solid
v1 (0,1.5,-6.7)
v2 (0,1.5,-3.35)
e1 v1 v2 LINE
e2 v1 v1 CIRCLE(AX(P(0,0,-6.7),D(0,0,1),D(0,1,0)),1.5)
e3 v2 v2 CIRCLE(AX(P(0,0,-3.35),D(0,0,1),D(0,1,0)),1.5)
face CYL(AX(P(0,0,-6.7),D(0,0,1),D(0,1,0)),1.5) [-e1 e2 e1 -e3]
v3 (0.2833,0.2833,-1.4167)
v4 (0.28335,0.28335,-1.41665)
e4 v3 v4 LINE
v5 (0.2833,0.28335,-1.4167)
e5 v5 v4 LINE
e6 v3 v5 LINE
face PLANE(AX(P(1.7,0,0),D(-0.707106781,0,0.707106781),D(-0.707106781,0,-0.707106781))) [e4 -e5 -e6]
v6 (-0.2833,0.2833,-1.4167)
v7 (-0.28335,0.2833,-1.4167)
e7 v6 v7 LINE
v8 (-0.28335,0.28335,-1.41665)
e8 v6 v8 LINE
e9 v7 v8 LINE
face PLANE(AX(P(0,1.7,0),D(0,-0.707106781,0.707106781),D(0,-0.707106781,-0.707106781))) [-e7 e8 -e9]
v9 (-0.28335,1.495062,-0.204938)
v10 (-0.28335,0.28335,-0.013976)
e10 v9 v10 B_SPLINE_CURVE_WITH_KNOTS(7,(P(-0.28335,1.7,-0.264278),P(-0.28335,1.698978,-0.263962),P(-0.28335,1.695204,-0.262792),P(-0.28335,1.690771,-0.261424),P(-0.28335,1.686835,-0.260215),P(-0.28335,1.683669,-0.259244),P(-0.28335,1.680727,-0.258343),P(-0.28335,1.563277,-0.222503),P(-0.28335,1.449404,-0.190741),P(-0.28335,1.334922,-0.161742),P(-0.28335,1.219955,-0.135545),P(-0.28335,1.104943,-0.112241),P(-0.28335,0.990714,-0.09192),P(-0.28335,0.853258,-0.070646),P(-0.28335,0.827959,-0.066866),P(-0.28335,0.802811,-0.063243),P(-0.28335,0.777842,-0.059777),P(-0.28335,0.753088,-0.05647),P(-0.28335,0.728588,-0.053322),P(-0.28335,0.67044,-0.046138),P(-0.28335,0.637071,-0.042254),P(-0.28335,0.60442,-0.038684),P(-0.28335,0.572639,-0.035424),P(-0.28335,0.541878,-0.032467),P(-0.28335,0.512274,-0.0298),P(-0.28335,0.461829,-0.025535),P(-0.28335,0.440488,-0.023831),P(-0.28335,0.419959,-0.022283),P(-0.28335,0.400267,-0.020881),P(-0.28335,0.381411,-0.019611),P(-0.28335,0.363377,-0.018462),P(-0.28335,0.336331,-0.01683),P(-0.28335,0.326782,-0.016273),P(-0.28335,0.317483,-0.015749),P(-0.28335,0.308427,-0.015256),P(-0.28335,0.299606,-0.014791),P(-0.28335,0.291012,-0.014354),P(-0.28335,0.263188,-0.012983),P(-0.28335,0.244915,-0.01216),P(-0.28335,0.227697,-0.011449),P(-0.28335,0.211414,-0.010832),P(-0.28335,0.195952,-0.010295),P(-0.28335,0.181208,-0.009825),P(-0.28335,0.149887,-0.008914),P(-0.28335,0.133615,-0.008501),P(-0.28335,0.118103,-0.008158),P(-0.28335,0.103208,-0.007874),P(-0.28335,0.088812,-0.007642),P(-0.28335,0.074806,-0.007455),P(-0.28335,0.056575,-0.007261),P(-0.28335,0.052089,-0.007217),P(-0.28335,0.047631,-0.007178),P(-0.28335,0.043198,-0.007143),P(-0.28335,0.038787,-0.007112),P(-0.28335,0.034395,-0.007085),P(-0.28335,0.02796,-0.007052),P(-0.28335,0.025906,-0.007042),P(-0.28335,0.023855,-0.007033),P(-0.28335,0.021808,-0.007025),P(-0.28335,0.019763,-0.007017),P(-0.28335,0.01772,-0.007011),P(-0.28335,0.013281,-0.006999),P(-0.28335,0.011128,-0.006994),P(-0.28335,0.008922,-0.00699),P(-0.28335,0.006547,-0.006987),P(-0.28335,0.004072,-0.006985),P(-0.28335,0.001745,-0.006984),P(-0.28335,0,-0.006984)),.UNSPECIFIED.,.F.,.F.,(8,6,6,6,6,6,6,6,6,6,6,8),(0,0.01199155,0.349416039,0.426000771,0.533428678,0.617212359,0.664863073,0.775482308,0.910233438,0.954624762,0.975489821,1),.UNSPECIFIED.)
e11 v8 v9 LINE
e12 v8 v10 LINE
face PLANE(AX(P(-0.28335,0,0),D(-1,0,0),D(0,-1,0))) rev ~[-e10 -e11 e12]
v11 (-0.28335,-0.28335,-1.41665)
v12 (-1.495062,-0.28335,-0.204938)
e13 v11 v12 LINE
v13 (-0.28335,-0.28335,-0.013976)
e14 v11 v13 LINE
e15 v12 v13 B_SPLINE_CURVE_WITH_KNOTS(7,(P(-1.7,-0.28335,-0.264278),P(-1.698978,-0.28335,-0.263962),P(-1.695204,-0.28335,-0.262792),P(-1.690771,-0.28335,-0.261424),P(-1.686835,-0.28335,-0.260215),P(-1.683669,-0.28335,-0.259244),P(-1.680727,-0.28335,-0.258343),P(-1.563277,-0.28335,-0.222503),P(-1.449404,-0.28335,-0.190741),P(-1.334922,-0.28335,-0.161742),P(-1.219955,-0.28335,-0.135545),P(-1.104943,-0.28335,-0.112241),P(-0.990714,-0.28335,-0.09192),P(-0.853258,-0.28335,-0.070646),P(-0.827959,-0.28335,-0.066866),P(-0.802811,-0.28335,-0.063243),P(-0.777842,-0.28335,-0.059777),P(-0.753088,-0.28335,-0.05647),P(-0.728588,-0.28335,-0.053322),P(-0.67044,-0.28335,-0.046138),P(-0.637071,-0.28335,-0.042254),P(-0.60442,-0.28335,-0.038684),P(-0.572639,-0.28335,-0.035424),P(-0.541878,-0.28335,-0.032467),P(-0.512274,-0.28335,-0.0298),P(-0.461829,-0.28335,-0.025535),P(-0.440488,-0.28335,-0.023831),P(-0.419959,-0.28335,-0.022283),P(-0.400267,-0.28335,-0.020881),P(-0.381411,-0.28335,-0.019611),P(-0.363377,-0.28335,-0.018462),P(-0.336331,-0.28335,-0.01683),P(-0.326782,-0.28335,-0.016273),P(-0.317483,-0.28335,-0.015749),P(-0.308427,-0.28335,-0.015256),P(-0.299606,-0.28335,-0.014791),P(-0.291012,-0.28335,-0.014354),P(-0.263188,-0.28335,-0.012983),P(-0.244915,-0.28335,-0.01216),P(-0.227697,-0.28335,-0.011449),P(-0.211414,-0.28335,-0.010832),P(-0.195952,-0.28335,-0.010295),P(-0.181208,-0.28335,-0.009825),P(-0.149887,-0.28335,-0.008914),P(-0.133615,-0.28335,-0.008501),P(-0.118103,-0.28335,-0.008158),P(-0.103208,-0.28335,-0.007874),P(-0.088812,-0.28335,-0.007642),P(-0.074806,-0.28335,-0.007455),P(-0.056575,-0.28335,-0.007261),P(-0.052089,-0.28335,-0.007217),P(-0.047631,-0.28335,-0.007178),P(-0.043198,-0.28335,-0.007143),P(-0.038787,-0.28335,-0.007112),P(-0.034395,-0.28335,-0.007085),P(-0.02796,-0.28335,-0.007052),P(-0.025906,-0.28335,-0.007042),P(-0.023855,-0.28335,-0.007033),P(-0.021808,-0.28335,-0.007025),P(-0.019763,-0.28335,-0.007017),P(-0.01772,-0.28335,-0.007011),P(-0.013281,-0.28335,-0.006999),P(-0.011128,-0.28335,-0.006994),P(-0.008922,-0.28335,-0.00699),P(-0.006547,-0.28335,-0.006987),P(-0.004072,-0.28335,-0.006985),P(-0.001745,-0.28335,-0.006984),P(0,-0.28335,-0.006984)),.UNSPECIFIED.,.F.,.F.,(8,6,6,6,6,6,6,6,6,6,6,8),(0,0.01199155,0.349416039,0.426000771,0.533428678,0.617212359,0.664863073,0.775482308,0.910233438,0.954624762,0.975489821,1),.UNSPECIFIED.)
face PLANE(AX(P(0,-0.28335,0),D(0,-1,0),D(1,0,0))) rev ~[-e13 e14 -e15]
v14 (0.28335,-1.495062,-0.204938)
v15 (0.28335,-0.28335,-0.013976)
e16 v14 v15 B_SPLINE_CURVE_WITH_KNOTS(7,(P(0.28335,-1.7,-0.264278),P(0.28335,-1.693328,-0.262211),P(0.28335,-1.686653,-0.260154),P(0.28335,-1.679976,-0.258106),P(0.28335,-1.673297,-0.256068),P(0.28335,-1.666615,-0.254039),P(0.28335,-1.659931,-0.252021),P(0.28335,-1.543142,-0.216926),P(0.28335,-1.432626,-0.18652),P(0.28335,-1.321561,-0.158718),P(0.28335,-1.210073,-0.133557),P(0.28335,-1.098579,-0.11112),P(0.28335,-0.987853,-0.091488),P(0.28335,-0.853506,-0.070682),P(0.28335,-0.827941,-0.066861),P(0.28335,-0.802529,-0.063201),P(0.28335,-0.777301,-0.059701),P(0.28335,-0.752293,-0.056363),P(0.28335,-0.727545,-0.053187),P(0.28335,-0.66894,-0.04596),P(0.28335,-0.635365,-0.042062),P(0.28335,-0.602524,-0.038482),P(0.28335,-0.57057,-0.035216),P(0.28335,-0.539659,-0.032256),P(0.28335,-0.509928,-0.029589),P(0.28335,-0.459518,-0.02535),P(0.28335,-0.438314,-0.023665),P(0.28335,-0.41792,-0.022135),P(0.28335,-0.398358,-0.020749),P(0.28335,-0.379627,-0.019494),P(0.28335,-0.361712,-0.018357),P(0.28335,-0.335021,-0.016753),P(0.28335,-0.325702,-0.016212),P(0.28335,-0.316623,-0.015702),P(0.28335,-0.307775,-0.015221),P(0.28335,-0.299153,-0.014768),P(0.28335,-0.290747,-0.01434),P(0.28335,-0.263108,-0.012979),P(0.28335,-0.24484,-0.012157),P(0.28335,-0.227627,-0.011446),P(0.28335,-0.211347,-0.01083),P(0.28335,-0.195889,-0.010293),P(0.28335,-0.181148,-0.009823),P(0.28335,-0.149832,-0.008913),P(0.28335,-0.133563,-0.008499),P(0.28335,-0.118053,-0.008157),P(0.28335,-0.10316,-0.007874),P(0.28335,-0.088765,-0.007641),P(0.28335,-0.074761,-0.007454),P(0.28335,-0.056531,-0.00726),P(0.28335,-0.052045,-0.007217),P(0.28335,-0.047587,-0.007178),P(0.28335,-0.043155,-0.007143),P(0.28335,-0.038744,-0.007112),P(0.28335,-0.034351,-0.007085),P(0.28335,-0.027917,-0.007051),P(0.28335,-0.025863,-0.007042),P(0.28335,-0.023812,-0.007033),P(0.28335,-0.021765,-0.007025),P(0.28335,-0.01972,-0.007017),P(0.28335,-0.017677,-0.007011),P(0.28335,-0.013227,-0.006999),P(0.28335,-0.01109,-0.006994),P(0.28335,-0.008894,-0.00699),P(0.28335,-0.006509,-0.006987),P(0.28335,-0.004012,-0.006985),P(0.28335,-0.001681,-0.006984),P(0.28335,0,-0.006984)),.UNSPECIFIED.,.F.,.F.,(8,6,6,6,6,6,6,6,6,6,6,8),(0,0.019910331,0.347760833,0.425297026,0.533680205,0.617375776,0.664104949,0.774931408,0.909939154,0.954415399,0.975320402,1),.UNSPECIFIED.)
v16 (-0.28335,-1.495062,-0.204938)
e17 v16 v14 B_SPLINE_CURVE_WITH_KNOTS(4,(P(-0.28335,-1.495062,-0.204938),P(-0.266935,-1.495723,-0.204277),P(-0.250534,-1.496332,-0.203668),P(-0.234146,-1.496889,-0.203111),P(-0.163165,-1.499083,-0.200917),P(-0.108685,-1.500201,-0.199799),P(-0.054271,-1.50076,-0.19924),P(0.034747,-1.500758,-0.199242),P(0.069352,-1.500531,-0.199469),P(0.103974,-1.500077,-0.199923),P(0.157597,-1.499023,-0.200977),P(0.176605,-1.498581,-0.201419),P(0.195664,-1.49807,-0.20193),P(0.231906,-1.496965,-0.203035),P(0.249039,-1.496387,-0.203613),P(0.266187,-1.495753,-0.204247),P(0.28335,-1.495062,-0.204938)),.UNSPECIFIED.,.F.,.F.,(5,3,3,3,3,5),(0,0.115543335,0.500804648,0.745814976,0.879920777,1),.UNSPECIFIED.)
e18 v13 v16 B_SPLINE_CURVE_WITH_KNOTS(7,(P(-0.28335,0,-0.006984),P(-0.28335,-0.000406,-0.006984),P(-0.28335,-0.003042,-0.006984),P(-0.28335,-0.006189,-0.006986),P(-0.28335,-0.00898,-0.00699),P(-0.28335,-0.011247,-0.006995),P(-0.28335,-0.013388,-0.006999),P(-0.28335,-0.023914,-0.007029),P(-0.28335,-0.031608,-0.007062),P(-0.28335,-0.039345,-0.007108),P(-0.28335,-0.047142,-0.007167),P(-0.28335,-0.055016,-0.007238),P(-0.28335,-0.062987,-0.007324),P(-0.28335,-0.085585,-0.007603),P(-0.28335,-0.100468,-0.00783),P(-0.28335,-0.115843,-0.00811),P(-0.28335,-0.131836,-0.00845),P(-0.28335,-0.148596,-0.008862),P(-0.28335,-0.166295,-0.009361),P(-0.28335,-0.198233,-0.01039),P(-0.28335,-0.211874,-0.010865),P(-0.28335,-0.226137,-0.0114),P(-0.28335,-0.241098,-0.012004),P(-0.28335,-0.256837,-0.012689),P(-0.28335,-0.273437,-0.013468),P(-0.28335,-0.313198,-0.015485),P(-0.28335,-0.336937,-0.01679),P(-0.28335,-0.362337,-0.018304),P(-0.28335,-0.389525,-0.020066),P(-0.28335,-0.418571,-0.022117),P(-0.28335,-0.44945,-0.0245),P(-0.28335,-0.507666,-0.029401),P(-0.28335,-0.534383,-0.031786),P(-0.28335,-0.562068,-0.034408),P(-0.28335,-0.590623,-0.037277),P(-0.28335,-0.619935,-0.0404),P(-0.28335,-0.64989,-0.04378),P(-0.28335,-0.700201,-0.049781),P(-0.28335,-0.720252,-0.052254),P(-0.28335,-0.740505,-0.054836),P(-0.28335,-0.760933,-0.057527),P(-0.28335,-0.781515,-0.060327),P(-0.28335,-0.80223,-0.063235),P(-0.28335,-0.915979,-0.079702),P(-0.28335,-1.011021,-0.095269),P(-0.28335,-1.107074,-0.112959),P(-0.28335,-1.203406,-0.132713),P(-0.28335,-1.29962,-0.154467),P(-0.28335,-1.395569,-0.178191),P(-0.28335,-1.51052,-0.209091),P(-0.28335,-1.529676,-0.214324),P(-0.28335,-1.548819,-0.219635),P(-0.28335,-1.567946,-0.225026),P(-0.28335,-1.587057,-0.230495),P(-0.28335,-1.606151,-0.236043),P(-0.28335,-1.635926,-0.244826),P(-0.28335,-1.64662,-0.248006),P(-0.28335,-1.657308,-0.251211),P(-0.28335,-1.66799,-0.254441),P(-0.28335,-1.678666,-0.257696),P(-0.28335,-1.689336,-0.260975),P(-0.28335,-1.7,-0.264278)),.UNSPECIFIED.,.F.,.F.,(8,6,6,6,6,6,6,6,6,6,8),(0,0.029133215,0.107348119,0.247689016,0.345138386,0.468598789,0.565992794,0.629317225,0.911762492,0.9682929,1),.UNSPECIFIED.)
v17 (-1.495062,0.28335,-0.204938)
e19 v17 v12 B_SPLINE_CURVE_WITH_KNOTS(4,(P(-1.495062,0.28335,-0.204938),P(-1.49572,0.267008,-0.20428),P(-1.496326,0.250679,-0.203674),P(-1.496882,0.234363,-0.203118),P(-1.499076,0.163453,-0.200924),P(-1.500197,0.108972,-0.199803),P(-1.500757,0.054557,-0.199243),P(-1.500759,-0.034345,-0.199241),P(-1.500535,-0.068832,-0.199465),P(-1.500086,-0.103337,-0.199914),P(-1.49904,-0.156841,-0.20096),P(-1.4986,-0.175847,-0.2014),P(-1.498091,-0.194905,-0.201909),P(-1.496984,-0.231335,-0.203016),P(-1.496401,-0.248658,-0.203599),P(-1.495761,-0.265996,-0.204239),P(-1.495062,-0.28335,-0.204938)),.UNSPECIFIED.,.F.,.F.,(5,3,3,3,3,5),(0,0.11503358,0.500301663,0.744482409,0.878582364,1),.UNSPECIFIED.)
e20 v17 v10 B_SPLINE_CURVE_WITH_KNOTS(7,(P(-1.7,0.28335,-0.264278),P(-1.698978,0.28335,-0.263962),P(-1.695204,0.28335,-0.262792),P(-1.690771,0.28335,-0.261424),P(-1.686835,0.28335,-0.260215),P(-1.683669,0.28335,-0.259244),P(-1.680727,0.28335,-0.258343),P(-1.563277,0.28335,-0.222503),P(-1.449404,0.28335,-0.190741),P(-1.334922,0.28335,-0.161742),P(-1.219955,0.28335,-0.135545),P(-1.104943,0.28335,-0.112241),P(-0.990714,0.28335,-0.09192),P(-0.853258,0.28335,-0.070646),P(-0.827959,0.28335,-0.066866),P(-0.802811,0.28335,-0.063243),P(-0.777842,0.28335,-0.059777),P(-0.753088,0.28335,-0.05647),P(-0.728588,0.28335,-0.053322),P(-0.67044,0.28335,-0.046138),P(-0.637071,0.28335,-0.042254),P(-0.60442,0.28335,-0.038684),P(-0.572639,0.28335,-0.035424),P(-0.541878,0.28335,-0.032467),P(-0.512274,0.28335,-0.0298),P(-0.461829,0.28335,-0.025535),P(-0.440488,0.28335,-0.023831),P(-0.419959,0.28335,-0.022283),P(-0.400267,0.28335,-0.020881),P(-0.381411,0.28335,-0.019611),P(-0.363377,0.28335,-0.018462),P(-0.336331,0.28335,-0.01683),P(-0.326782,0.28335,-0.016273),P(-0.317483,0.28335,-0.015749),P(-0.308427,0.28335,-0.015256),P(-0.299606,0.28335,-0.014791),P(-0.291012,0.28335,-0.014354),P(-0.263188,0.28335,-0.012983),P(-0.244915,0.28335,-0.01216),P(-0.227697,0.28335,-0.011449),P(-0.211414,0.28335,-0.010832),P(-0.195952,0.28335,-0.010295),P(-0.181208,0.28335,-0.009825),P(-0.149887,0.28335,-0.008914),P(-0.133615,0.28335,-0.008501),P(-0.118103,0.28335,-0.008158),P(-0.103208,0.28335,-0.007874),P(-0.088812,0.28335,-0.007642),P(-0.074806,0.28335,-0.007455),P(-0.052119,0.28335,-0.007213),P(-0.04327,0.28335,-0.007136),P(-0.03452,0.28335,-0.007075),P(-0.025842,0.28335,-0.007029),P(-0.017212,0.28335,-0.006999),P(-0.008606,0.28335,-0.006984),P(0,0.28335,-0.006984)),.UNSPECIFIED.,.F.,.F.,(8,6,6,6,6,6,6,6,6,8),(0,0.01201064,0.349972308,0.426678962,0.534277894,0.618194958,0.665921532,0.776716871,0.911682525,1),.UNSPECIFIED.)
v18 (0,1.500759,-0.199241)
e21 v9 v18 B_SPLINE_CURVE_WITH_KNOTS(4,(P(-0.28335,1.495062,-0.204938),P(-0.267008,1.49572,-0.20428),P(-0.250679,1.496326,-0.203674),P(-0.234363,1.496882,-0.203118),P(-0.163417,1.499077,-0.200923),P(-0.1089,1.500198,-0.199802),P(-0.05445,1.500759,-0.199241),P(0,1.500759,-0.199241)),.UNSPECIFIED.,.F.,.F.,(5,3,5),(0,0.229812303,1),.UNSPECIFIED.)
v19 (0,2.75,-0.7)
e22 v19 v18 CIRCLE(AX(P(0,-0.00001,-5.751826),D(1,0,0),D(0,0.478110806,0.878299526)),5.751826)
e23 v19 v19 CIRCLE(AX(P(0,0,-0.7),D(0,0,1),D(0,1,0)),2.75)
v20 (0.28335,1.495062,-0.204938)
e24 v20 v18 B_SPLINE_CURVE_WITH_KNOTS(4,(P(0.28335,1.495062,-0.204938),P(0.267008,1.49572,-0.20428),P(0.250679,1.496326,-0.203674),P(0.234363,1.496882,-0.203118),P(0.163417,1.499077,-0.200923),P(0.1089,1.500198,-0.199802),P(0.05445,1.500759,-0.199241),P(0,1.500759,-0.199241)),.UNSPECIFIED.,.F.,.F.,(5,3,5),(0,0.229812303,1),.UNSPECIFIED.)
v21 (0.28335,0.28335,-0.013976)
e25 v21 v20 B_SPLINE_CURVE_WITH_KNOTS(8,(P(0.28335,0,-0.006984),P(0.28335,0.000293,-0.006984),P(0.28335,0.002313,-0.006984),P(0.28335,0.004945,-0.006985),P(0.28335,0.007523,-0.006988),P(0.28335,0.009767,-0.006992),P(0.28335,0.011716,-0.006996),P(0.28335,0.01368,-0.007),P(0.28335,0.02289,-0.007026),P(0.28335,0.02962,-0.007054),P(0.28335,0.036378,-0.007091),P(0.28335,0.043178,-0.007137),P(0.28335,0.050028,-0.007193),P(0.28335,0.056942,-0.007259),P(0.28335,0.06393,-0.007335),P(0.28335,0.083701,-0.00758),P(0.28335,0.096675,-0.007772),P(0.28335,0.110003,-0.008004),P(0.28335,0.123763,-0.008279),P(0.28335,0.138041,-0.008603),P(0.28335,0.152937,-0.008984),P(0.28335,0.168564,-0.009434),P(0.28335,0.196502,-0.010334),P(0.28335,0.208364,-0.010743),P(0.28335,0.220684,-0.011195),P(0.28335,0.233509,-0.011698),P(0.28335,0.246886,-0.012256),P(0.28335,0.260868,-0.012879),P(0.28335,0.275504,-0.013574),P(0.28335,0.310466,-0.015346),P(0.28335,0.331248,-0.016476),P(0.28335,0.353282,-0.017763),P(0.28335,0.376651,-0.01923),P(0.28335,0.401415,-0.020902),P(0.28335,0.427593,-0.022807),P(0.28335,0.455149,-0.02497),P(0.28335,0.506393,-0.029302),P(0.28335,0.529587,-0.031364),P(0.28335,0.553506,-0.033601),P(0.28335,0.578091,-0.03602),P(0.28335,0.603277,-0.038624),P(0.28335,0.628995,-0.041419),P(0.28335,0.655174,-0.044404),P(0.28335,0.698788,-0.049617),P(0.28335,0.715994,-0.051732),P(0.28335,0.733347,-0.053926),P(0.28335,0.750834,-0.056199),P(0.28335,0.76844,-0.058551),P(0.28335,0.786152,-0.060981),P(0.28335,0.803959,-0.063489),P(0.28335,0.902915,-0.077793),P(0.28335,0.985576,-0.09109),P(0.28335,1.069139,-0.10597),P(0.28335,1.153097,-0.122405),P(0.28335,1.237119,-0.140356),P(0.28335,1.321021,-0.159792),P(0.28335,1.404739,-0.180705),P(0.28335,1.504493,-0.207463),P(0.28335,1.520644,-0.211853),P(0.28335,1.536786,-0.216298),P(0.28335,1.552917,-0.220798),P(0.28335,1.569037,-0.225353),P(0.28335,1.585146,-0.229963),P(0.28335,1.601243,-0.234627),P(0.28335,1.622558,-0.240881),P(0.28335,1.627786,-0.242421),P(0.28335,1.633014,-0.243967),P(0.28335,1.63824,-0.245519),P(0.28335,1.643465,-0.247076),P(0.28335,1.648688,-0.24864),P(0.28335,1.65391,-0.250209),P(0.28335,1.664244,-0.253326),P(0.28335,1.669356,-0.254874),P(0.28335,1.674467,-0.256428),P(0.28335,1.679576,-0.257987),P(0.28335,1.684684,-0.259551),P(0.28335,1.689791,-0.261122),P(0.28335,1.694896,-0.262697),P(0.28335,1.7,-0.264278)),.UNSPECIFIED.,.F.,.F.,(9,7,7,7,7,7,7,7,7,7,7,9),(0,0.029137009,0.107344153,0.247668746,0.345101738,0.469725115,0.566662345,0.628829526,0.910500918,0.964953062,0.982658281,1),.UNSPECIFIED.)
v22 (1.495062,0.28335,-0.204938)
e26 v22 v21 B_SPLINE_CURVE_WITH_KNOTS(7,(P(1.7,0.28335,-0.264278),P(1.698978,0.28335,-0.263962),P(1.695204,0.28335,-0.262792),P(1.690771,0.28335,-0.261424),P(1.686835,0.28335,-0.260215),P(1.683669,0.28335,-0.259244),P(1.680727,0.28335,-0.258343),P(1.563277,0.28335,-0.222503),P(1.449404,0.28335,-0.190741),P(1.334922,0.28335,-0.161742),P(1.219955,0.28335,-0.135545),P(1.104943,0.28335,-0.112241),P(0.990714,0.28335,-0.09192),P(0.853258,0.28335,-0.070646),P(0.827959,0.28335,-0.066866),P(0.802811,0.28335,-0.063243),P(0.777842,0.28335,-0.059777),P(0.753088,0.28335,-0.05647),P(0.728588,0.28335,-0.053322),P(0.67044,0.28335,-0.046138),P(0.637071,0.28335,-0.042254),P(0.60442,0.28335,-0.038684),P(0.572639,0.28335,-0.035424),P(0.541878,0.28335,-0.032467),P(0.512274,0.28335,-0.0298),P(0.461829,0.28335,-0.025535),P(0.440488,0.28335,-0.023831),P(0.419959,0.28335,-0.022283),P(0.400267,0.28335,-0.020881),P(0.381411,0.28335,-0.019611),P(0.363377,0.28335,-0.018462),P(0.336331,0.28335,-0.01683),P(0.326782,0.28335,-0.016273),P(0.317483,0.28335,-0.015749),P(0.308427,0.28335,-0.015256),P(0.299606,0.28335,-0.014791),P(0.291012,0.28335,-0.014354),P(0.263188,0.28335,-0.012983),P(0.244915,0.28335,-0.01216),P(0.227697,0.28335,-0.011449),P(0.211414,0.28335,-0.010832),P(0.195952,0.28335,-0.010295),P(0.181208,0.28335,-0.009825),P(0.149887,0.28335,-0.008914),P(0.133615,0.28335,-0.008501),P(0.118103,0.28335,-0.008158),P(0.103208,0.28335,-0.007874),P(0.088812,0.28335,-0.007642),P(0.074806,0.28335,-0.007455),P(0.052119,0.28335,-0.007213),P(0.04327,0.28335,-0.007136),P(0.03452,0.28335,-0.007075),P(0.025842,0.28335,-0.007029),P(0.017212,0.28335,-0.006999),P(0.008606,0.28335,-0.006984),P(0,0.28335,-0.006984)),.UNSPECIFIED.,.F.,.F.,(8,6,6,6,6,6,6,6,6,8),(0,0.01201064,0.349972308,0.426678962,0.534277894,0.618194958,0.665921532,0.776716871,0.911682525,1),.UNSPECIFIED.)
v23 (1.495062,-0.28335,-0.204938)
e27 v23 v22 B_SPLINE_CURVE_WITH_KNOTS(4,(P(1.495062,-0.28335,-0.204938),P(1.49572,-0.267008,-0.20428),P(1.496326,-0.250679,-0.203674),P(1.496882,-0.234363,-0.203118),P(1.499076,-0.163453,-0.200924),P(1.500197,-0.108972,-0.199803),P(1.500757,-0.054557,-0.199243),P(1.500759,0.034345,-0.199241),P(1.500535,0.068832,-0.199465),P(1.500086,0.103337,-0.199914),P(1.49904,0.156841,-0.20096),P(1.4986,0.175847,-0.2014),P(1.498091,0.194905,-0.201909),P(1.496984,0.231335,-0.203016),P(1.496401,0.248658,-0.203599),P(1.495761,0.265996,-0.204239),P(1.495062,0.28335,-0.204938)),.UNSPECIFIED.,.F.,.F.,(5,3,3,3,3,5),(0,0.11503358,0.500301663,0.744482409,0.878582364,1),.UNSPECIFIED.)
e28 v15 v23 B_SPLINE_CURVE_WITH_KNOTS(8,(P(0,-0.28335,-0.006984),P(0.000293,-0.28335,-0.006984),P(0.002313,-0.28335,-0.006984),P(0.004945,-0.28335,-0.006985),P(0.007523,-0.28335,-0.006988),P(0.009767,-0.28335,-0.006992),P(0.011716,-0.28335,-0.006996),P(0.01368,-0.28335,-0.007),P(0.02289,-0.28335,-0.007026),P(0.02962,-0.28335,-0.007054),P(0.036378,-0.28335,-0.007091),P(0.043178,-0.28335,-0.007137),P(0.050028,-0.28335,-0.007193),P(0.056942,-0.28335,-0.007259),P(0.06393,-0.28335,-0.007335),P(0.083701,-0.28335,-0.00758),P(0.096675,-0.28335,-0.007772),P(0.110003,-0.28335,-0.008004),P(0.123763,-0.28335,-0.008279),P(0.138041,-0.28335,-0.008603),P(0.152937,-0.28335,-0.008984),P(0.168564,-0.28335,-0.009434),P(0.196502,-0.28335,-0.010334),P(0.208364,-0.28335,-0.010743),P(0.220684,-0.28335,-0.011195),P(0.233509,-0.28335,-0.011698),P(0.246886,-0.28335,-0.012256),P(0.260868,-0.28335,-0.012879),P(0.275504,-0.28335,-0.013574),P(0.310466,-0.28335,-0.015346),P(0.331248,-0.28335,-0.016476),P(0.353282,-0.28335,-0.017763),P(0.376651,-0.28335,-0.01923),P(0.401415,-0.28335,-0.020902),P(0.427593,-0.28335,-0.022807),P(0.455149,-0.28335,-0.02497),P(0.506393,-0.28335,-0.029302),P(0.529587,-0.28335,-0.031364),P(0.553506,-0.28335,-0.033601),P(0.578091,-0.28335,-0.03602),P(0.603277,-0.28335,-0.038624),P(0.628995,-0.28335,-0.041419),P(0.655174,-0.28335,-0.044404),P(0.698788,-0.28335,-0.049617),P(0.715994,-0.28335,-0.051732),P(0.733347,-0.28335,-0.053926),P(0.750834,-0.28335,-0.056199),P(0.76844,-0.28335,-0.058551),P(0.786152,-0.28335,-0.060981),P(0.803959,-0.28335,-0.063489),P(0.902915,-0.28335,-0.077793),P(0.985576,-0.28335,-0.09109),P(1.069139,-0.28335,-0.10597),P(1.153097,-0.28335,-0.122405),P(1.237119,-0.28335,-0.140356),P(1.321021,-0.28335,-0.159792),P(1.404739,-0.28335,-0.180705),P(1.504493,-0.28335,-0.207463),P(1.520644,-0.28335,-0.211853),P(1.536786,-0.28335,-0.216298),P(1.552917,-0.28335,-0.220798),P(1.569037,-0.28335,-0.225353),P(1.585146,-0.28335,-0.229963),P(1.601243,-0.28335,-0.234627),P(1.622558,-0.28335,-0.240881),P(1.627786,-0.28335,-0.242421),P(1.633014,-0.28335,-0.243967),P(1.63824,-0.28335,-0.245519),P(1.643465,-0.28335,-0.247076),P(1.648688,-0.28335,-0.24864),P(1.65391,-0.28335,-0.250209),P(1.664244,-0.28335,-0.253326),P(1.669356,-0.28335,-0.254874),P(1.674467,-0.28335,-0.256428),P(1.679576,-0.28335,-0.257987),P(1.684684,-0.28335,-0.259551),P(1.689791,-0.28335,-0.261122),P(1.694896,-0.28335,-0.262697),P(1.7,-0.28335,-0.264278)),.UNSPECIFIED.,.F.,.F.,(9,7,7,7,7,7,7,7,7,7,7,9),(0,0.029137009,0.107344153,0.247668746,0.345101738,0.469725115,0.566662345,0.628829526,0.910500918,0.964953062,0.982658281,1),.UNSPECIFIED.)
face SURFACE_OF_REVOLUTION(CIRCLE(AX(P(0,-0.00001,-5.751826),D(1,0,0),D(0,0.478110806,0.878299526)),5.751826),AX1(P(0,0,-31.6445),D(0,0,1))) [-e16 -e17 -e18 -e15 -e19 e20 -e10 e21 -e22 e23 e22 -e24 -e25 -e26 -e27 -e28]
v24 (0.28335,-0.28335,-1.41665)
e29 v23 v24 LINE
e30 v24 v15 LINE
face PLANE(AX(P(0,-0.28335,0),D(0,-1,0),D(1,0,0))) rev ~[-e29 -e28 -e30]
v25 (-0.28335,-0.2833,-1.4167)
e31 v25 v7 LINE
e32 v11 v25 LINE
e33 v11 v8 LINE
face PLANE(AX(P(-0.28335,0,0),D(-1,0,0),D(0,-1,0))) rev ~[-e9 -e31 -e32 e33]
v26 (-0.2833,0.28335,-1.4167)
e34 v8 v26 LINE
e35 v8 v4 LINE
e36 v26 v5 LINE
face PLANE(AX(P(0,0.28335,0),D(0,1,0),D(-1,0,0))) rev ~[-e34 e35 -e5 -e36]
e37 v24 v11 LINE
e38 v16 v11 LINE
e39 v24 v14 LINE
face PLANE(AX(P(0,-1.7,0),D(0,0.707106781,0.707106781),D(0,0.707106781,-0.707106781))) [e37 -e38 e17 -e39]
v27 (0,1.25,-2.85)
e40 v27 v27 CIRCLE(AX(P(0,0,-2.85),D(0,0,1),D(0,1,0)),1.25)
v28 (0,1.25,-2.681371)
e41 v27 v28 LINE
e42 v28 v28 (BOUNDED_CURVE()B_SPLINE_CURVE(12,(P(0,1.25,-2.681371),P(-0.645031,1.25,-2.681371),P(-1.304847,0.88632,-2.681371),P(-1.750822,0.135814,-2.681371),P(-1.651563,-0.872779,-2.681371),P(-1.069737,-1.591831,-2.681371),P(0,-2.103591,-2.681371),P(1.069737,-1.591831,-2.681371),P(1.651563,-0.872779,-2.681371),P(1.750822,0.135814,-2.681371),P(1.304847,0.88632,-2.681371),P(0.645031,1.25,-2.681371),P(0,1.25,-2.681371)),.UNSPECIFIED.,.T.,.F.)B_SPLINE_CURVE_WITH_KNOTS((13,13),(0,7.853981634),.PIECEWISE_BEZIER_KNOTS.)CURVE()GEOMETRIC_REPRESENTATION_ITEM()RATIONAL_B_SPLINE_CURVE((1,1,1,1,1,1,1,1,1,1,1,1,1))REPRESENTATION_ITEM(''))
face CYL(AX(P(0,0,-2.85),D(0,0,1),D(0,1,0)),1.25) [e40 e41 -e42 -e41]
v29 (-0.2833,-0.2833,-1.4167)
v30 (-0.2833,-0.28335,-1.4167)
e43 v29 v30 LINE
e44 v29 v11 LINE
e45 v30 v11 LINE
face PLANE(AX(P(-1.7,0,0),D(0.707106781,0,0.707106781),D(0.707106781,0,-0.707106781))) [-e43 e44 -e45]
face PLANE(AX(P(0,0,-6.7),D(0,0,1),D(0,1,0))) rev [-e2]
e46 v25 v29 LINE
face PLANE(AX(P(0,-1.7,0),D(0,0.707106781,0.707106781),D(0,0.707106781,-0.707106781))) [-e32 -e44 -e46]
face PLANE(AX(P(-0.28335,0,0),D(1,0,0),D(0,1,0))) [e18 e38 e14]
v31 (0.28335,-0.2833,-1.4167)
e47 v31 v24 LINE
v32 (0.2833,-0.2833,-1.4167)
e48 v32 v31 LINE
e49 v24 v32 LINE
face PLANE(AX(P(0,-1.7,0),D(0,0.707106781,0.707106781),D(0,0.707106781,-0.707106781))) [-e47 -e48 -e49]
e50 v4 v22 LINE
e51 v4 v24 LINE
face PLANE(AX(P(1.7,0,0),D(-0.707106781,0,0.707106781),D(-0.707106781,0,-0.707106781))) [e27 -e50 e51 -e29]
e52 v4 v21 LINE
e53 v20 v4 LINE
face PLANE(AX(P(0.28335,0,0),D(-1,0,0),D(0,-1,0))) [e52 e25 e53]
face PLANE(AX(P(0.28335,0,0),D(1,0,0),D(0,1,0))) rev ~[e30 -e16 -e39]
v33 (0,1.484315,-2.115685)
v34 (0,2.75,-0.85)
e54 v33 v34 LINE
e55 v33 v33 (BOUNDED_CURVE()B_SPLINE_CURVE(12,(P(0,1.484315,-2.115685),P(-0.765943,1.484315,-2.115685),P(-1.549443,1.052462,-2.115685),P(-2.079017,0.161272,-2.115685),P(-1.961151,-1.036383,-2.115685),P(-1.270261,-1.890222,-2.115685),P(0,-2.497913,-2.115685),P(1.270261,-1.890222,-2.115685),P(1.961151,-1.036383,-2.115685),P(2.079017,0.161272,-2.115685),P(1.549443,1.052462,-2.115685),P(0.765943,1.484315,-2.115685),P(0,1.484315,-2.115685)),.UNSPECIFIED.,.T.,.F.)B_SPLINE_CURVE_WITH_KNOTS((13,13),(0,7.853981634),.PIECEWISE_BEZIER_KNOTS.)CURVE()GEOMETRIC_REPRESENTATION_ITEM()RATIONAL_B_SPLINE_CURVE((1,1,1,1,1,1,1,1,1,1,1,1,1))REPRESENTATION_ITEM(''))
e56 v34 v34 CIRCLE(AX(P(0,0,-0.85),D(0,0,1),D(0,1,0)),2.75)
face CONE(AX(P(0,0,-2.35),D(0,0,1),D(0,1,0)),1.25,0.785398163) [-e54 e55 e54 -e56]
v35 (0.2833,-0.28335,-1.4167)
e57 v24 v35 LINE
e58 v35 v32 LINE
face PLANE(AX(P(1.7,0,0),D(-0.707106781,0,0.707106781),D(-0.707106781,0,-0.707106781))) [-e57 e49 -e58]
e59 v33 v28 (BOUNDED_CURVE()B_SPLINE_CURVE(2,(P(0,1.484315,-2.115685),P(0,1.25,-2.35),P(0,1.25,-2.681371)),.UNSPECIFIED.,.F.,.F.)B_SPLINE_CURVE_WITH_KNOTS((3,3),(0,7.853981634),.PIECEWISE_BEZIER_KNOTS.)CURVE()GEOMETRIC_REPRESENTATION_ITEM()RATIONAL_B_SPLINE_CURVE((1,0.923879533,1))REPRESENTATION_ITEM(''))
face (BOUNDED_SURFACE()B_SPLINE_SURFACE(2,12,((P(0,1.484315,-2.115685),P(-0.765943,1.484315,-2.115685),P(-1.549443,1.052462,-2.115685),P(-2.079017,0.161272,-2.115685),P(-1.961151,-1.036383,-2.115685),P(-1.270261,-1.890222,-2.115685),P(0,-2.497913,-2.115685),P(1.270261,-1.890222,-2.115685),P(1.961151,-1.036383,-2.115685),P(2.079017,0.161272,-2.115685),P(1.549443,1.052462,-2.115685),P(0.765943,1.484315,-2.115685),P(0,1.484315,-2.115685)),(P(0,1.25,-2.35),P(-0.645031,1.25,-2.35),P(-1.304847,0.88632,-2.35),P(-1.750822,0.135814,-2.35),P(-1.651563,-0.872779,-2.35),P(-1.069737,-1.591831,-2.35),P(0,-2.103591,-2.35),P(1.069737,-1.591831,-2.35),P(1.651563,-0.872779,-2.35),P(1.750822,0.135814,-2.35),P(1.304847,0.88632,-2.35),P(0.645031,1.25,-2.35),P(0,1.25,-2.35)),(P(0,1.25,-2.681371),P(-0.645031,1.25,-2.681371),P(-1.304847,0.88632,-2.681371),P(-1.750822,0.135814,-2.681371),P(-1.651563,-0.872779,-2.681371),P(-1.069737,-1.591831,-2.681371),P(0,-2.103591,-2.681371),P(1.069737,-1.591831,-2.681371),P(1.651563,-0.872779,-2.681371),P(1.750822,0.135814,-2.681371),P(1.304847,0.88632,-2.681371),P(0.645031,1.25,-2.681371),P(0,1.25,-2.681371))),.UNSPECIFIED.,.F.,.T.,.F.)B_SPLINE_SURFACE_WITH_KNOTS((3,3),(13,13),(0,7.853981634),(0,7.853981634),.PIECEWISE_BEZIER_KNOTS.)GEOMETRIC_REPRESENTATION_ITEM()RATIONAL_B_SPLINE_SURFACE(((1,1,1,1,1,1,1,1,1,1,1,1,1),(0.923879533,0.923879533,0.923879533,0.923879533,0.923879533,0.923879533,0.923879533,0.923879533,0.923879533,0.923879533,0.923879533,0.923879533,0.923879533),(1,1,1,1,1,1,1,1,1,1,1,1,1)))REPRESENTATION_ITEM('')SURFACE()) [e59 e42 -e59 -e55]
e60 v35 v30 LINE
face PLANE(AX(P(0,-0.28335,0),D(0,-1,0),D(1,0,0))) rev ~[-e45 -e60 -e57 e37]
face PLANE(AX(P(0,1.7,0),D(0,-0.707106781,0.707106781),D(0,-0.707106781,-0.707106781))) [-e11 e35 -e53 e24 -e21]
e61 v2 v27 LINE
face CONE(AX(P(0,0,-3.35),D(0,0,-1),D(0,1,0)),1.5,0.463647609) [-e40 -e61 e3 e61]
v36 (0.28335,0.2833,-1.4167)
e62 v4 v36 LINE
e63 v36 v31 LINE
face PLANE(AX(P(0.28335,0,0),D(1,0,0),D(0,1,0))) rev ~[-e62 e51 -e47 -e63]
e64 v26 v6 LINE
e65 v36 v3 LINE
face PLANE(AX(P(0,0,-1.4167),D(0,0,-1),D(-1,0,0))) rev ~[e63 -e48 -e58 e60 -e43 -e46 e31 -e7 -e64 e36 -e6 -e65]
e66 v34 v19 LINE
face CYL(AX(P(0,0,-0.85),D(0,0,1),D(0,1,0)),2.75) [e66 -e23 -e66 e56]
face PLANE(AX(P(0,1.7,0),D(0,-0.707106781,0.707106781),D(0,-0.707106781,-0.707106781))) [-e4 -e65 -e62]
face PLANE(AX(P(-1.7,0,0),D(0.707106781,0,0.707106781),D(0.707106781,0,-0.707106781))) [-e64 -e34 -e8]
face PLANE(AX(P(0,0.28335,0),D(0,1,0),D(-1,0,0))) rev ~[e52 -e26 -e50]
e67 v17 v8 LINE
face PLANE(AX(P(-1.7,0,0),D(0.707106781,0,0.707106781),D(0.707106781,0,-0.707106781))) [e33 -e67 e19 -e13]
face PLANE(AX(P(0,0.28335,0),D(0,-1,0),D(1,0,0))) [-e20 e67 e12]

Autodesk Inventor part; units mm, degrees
ref_plane "WorkPlane2" through (0, 0, 0) normal (0, 0, 1) x (1, 0, 0)
sketch "Sketch1" plane through (0, 0, 0) normal (1, 0, 0) x (0, 1, 0)
  point P0 (0, 0)
ref_plane "Work Plane2" through (0, 0, -2.35) normal (0, 0, 1) x (1, 0, 0)
ref_plane "WorkPlane3" through (0, 0, 7) normal (0, 0, 1) x (1, 0, 0)
sketch "Sketch2" plane through (0, 0, 0) normal (0, 1, 0) x (-1, 0, 0)
  point P0 (0, 0)
sketch "Sketch3" plane through (0, 0, 0) normal (1, 0, 0) x (0, 1, 0)
  line L0 (1.5, -3.35) -> (1.25, -2.85)
  line L1 (1.5, -6.7) -> (1.5, -3.35)
  line L2 (0, -6.7) -> (1.5, -6.7)
  line L3 (0, 0) -> (0, -6.7)
  arc A0 (2.75, -0.7) -> (0, 0) centre (0, -5.7518) ccw
  line L4 (2.75, -0.85) -> (2.75, -0.7)
  line L5 (1.25, -2.35) -> (2.75, -0.85)
  line L6 (1.25, -2.85) -> (1.25, -2.35)
  line L7 (0, -31.6445) -> (0, 31.6445) construction
  line L8 (0, -31.6445) -> (0, 31.6445)
  line L9 (0, -44.3023) -> (0, 44.3023) projected
  dimension "d2" = 1.5
  dimension "d4" = 1.25
  dimension "d6" = 0.5
  dimension "d8" = 1.65
  dimension "d10" = 135
  dimension "d12" = 2.75
  dimension "d14" = 0
  dimension "d16" = 0.7
  dimension "d18" = 6
  dimension "d22" = 3.35
revolve "Revolution1" add sketch "Sketch3" angle 360 about axis through (0, 0, -31.6445) along (0, 0, 1)
fillet "Fillet1" radius 0.8 1 edges at (0, -1.25, -2.35)
sketch "Sketch4" plane through (0, 0, 0) normal (0, 1, 0) x (-1, 0, 0)
  line L0 (0, 0) -> (-1.7, 0)
  line L1 (0, -1.4167) -> (0, 0)
  line L2 (-1.7, 0) -> (-0.2833, -1.4167)
  line L3 (0, -6.9021) -> (0, 1.1504) projected
  arc A0 (2.75, -0.7) -> (-2.75, -0.7) centre (0, -5.7518) ccw projected
  line L4 (0, -1.4167) -> (-0.2833, -1.4167)
  point P0 (0, -1.7)
  dimension "d30" = 45
  dimension "d33" = 3.4
  dimension "d34" = 0.2833
  dimension "d35" = 90
extrude "Extrusion1" cut sketch "Sketch4" along normal mid plane 0.5667
pattern_circular "PolarArray1" count 4 over 360 about axis through (0, 0, -10) along (0, 0, 1) of "Extrusion1"
thread "Thread1" size "M3x0.5" class "6g" standard "ISO Metric profile" full length
ref_plane "MSC_PF1" through (0, 0, 0) normal (1, 0, 0) x (0, 1, 0)
ref_plane "MSC_PT1" through (0, 2.75, -0.85) normal (0, 0, -1) x (-1, 0, 0)
equation "\"d2\" = 0.5 * NND"
equation "\"d4\" = 0.5 * msp_mdtds"
equation "\"d6\" = msp_x"
equation "\"d8\" = ParK"
equation "\"d12\" = 0.5 * Dk"
equation "\"d16\" = ParF"
equation "\"d18\" = NLG"
equation "\"d22\" = b"
equation "\"d24\" = r"
equation "\"d33\" = M"
equation "\"d34\" = 0.0833333 * M"
equation "\"d31\" = 0.166667 * M"
equation "\"d39\" = b"
equation "\"PTC\" = 0.5"
equation "\"msp_x\" = PTC"
equation "\"NLG\" = 6"
equation "\"NND\" = 3"
equation "\"ParK\" = 1.65"
equation "\"r\" = 0.8"
equation "\"msp_mdtds\" = NND - PTC"
equation "\"b\" = 3.35"
equation "\"Dk\" = 5.5"
equation "\"ParF\" = 0.7"
equation "\"M\" = 3.4"
equation "\"ParA\" = 1"
equation "\"THREADDIA\" = NND"
equation "\"TEMPLATE\" = 1.2345"
properties part number "ISO 7047 - M3x6 - 4.8 - H" material "Steel"
